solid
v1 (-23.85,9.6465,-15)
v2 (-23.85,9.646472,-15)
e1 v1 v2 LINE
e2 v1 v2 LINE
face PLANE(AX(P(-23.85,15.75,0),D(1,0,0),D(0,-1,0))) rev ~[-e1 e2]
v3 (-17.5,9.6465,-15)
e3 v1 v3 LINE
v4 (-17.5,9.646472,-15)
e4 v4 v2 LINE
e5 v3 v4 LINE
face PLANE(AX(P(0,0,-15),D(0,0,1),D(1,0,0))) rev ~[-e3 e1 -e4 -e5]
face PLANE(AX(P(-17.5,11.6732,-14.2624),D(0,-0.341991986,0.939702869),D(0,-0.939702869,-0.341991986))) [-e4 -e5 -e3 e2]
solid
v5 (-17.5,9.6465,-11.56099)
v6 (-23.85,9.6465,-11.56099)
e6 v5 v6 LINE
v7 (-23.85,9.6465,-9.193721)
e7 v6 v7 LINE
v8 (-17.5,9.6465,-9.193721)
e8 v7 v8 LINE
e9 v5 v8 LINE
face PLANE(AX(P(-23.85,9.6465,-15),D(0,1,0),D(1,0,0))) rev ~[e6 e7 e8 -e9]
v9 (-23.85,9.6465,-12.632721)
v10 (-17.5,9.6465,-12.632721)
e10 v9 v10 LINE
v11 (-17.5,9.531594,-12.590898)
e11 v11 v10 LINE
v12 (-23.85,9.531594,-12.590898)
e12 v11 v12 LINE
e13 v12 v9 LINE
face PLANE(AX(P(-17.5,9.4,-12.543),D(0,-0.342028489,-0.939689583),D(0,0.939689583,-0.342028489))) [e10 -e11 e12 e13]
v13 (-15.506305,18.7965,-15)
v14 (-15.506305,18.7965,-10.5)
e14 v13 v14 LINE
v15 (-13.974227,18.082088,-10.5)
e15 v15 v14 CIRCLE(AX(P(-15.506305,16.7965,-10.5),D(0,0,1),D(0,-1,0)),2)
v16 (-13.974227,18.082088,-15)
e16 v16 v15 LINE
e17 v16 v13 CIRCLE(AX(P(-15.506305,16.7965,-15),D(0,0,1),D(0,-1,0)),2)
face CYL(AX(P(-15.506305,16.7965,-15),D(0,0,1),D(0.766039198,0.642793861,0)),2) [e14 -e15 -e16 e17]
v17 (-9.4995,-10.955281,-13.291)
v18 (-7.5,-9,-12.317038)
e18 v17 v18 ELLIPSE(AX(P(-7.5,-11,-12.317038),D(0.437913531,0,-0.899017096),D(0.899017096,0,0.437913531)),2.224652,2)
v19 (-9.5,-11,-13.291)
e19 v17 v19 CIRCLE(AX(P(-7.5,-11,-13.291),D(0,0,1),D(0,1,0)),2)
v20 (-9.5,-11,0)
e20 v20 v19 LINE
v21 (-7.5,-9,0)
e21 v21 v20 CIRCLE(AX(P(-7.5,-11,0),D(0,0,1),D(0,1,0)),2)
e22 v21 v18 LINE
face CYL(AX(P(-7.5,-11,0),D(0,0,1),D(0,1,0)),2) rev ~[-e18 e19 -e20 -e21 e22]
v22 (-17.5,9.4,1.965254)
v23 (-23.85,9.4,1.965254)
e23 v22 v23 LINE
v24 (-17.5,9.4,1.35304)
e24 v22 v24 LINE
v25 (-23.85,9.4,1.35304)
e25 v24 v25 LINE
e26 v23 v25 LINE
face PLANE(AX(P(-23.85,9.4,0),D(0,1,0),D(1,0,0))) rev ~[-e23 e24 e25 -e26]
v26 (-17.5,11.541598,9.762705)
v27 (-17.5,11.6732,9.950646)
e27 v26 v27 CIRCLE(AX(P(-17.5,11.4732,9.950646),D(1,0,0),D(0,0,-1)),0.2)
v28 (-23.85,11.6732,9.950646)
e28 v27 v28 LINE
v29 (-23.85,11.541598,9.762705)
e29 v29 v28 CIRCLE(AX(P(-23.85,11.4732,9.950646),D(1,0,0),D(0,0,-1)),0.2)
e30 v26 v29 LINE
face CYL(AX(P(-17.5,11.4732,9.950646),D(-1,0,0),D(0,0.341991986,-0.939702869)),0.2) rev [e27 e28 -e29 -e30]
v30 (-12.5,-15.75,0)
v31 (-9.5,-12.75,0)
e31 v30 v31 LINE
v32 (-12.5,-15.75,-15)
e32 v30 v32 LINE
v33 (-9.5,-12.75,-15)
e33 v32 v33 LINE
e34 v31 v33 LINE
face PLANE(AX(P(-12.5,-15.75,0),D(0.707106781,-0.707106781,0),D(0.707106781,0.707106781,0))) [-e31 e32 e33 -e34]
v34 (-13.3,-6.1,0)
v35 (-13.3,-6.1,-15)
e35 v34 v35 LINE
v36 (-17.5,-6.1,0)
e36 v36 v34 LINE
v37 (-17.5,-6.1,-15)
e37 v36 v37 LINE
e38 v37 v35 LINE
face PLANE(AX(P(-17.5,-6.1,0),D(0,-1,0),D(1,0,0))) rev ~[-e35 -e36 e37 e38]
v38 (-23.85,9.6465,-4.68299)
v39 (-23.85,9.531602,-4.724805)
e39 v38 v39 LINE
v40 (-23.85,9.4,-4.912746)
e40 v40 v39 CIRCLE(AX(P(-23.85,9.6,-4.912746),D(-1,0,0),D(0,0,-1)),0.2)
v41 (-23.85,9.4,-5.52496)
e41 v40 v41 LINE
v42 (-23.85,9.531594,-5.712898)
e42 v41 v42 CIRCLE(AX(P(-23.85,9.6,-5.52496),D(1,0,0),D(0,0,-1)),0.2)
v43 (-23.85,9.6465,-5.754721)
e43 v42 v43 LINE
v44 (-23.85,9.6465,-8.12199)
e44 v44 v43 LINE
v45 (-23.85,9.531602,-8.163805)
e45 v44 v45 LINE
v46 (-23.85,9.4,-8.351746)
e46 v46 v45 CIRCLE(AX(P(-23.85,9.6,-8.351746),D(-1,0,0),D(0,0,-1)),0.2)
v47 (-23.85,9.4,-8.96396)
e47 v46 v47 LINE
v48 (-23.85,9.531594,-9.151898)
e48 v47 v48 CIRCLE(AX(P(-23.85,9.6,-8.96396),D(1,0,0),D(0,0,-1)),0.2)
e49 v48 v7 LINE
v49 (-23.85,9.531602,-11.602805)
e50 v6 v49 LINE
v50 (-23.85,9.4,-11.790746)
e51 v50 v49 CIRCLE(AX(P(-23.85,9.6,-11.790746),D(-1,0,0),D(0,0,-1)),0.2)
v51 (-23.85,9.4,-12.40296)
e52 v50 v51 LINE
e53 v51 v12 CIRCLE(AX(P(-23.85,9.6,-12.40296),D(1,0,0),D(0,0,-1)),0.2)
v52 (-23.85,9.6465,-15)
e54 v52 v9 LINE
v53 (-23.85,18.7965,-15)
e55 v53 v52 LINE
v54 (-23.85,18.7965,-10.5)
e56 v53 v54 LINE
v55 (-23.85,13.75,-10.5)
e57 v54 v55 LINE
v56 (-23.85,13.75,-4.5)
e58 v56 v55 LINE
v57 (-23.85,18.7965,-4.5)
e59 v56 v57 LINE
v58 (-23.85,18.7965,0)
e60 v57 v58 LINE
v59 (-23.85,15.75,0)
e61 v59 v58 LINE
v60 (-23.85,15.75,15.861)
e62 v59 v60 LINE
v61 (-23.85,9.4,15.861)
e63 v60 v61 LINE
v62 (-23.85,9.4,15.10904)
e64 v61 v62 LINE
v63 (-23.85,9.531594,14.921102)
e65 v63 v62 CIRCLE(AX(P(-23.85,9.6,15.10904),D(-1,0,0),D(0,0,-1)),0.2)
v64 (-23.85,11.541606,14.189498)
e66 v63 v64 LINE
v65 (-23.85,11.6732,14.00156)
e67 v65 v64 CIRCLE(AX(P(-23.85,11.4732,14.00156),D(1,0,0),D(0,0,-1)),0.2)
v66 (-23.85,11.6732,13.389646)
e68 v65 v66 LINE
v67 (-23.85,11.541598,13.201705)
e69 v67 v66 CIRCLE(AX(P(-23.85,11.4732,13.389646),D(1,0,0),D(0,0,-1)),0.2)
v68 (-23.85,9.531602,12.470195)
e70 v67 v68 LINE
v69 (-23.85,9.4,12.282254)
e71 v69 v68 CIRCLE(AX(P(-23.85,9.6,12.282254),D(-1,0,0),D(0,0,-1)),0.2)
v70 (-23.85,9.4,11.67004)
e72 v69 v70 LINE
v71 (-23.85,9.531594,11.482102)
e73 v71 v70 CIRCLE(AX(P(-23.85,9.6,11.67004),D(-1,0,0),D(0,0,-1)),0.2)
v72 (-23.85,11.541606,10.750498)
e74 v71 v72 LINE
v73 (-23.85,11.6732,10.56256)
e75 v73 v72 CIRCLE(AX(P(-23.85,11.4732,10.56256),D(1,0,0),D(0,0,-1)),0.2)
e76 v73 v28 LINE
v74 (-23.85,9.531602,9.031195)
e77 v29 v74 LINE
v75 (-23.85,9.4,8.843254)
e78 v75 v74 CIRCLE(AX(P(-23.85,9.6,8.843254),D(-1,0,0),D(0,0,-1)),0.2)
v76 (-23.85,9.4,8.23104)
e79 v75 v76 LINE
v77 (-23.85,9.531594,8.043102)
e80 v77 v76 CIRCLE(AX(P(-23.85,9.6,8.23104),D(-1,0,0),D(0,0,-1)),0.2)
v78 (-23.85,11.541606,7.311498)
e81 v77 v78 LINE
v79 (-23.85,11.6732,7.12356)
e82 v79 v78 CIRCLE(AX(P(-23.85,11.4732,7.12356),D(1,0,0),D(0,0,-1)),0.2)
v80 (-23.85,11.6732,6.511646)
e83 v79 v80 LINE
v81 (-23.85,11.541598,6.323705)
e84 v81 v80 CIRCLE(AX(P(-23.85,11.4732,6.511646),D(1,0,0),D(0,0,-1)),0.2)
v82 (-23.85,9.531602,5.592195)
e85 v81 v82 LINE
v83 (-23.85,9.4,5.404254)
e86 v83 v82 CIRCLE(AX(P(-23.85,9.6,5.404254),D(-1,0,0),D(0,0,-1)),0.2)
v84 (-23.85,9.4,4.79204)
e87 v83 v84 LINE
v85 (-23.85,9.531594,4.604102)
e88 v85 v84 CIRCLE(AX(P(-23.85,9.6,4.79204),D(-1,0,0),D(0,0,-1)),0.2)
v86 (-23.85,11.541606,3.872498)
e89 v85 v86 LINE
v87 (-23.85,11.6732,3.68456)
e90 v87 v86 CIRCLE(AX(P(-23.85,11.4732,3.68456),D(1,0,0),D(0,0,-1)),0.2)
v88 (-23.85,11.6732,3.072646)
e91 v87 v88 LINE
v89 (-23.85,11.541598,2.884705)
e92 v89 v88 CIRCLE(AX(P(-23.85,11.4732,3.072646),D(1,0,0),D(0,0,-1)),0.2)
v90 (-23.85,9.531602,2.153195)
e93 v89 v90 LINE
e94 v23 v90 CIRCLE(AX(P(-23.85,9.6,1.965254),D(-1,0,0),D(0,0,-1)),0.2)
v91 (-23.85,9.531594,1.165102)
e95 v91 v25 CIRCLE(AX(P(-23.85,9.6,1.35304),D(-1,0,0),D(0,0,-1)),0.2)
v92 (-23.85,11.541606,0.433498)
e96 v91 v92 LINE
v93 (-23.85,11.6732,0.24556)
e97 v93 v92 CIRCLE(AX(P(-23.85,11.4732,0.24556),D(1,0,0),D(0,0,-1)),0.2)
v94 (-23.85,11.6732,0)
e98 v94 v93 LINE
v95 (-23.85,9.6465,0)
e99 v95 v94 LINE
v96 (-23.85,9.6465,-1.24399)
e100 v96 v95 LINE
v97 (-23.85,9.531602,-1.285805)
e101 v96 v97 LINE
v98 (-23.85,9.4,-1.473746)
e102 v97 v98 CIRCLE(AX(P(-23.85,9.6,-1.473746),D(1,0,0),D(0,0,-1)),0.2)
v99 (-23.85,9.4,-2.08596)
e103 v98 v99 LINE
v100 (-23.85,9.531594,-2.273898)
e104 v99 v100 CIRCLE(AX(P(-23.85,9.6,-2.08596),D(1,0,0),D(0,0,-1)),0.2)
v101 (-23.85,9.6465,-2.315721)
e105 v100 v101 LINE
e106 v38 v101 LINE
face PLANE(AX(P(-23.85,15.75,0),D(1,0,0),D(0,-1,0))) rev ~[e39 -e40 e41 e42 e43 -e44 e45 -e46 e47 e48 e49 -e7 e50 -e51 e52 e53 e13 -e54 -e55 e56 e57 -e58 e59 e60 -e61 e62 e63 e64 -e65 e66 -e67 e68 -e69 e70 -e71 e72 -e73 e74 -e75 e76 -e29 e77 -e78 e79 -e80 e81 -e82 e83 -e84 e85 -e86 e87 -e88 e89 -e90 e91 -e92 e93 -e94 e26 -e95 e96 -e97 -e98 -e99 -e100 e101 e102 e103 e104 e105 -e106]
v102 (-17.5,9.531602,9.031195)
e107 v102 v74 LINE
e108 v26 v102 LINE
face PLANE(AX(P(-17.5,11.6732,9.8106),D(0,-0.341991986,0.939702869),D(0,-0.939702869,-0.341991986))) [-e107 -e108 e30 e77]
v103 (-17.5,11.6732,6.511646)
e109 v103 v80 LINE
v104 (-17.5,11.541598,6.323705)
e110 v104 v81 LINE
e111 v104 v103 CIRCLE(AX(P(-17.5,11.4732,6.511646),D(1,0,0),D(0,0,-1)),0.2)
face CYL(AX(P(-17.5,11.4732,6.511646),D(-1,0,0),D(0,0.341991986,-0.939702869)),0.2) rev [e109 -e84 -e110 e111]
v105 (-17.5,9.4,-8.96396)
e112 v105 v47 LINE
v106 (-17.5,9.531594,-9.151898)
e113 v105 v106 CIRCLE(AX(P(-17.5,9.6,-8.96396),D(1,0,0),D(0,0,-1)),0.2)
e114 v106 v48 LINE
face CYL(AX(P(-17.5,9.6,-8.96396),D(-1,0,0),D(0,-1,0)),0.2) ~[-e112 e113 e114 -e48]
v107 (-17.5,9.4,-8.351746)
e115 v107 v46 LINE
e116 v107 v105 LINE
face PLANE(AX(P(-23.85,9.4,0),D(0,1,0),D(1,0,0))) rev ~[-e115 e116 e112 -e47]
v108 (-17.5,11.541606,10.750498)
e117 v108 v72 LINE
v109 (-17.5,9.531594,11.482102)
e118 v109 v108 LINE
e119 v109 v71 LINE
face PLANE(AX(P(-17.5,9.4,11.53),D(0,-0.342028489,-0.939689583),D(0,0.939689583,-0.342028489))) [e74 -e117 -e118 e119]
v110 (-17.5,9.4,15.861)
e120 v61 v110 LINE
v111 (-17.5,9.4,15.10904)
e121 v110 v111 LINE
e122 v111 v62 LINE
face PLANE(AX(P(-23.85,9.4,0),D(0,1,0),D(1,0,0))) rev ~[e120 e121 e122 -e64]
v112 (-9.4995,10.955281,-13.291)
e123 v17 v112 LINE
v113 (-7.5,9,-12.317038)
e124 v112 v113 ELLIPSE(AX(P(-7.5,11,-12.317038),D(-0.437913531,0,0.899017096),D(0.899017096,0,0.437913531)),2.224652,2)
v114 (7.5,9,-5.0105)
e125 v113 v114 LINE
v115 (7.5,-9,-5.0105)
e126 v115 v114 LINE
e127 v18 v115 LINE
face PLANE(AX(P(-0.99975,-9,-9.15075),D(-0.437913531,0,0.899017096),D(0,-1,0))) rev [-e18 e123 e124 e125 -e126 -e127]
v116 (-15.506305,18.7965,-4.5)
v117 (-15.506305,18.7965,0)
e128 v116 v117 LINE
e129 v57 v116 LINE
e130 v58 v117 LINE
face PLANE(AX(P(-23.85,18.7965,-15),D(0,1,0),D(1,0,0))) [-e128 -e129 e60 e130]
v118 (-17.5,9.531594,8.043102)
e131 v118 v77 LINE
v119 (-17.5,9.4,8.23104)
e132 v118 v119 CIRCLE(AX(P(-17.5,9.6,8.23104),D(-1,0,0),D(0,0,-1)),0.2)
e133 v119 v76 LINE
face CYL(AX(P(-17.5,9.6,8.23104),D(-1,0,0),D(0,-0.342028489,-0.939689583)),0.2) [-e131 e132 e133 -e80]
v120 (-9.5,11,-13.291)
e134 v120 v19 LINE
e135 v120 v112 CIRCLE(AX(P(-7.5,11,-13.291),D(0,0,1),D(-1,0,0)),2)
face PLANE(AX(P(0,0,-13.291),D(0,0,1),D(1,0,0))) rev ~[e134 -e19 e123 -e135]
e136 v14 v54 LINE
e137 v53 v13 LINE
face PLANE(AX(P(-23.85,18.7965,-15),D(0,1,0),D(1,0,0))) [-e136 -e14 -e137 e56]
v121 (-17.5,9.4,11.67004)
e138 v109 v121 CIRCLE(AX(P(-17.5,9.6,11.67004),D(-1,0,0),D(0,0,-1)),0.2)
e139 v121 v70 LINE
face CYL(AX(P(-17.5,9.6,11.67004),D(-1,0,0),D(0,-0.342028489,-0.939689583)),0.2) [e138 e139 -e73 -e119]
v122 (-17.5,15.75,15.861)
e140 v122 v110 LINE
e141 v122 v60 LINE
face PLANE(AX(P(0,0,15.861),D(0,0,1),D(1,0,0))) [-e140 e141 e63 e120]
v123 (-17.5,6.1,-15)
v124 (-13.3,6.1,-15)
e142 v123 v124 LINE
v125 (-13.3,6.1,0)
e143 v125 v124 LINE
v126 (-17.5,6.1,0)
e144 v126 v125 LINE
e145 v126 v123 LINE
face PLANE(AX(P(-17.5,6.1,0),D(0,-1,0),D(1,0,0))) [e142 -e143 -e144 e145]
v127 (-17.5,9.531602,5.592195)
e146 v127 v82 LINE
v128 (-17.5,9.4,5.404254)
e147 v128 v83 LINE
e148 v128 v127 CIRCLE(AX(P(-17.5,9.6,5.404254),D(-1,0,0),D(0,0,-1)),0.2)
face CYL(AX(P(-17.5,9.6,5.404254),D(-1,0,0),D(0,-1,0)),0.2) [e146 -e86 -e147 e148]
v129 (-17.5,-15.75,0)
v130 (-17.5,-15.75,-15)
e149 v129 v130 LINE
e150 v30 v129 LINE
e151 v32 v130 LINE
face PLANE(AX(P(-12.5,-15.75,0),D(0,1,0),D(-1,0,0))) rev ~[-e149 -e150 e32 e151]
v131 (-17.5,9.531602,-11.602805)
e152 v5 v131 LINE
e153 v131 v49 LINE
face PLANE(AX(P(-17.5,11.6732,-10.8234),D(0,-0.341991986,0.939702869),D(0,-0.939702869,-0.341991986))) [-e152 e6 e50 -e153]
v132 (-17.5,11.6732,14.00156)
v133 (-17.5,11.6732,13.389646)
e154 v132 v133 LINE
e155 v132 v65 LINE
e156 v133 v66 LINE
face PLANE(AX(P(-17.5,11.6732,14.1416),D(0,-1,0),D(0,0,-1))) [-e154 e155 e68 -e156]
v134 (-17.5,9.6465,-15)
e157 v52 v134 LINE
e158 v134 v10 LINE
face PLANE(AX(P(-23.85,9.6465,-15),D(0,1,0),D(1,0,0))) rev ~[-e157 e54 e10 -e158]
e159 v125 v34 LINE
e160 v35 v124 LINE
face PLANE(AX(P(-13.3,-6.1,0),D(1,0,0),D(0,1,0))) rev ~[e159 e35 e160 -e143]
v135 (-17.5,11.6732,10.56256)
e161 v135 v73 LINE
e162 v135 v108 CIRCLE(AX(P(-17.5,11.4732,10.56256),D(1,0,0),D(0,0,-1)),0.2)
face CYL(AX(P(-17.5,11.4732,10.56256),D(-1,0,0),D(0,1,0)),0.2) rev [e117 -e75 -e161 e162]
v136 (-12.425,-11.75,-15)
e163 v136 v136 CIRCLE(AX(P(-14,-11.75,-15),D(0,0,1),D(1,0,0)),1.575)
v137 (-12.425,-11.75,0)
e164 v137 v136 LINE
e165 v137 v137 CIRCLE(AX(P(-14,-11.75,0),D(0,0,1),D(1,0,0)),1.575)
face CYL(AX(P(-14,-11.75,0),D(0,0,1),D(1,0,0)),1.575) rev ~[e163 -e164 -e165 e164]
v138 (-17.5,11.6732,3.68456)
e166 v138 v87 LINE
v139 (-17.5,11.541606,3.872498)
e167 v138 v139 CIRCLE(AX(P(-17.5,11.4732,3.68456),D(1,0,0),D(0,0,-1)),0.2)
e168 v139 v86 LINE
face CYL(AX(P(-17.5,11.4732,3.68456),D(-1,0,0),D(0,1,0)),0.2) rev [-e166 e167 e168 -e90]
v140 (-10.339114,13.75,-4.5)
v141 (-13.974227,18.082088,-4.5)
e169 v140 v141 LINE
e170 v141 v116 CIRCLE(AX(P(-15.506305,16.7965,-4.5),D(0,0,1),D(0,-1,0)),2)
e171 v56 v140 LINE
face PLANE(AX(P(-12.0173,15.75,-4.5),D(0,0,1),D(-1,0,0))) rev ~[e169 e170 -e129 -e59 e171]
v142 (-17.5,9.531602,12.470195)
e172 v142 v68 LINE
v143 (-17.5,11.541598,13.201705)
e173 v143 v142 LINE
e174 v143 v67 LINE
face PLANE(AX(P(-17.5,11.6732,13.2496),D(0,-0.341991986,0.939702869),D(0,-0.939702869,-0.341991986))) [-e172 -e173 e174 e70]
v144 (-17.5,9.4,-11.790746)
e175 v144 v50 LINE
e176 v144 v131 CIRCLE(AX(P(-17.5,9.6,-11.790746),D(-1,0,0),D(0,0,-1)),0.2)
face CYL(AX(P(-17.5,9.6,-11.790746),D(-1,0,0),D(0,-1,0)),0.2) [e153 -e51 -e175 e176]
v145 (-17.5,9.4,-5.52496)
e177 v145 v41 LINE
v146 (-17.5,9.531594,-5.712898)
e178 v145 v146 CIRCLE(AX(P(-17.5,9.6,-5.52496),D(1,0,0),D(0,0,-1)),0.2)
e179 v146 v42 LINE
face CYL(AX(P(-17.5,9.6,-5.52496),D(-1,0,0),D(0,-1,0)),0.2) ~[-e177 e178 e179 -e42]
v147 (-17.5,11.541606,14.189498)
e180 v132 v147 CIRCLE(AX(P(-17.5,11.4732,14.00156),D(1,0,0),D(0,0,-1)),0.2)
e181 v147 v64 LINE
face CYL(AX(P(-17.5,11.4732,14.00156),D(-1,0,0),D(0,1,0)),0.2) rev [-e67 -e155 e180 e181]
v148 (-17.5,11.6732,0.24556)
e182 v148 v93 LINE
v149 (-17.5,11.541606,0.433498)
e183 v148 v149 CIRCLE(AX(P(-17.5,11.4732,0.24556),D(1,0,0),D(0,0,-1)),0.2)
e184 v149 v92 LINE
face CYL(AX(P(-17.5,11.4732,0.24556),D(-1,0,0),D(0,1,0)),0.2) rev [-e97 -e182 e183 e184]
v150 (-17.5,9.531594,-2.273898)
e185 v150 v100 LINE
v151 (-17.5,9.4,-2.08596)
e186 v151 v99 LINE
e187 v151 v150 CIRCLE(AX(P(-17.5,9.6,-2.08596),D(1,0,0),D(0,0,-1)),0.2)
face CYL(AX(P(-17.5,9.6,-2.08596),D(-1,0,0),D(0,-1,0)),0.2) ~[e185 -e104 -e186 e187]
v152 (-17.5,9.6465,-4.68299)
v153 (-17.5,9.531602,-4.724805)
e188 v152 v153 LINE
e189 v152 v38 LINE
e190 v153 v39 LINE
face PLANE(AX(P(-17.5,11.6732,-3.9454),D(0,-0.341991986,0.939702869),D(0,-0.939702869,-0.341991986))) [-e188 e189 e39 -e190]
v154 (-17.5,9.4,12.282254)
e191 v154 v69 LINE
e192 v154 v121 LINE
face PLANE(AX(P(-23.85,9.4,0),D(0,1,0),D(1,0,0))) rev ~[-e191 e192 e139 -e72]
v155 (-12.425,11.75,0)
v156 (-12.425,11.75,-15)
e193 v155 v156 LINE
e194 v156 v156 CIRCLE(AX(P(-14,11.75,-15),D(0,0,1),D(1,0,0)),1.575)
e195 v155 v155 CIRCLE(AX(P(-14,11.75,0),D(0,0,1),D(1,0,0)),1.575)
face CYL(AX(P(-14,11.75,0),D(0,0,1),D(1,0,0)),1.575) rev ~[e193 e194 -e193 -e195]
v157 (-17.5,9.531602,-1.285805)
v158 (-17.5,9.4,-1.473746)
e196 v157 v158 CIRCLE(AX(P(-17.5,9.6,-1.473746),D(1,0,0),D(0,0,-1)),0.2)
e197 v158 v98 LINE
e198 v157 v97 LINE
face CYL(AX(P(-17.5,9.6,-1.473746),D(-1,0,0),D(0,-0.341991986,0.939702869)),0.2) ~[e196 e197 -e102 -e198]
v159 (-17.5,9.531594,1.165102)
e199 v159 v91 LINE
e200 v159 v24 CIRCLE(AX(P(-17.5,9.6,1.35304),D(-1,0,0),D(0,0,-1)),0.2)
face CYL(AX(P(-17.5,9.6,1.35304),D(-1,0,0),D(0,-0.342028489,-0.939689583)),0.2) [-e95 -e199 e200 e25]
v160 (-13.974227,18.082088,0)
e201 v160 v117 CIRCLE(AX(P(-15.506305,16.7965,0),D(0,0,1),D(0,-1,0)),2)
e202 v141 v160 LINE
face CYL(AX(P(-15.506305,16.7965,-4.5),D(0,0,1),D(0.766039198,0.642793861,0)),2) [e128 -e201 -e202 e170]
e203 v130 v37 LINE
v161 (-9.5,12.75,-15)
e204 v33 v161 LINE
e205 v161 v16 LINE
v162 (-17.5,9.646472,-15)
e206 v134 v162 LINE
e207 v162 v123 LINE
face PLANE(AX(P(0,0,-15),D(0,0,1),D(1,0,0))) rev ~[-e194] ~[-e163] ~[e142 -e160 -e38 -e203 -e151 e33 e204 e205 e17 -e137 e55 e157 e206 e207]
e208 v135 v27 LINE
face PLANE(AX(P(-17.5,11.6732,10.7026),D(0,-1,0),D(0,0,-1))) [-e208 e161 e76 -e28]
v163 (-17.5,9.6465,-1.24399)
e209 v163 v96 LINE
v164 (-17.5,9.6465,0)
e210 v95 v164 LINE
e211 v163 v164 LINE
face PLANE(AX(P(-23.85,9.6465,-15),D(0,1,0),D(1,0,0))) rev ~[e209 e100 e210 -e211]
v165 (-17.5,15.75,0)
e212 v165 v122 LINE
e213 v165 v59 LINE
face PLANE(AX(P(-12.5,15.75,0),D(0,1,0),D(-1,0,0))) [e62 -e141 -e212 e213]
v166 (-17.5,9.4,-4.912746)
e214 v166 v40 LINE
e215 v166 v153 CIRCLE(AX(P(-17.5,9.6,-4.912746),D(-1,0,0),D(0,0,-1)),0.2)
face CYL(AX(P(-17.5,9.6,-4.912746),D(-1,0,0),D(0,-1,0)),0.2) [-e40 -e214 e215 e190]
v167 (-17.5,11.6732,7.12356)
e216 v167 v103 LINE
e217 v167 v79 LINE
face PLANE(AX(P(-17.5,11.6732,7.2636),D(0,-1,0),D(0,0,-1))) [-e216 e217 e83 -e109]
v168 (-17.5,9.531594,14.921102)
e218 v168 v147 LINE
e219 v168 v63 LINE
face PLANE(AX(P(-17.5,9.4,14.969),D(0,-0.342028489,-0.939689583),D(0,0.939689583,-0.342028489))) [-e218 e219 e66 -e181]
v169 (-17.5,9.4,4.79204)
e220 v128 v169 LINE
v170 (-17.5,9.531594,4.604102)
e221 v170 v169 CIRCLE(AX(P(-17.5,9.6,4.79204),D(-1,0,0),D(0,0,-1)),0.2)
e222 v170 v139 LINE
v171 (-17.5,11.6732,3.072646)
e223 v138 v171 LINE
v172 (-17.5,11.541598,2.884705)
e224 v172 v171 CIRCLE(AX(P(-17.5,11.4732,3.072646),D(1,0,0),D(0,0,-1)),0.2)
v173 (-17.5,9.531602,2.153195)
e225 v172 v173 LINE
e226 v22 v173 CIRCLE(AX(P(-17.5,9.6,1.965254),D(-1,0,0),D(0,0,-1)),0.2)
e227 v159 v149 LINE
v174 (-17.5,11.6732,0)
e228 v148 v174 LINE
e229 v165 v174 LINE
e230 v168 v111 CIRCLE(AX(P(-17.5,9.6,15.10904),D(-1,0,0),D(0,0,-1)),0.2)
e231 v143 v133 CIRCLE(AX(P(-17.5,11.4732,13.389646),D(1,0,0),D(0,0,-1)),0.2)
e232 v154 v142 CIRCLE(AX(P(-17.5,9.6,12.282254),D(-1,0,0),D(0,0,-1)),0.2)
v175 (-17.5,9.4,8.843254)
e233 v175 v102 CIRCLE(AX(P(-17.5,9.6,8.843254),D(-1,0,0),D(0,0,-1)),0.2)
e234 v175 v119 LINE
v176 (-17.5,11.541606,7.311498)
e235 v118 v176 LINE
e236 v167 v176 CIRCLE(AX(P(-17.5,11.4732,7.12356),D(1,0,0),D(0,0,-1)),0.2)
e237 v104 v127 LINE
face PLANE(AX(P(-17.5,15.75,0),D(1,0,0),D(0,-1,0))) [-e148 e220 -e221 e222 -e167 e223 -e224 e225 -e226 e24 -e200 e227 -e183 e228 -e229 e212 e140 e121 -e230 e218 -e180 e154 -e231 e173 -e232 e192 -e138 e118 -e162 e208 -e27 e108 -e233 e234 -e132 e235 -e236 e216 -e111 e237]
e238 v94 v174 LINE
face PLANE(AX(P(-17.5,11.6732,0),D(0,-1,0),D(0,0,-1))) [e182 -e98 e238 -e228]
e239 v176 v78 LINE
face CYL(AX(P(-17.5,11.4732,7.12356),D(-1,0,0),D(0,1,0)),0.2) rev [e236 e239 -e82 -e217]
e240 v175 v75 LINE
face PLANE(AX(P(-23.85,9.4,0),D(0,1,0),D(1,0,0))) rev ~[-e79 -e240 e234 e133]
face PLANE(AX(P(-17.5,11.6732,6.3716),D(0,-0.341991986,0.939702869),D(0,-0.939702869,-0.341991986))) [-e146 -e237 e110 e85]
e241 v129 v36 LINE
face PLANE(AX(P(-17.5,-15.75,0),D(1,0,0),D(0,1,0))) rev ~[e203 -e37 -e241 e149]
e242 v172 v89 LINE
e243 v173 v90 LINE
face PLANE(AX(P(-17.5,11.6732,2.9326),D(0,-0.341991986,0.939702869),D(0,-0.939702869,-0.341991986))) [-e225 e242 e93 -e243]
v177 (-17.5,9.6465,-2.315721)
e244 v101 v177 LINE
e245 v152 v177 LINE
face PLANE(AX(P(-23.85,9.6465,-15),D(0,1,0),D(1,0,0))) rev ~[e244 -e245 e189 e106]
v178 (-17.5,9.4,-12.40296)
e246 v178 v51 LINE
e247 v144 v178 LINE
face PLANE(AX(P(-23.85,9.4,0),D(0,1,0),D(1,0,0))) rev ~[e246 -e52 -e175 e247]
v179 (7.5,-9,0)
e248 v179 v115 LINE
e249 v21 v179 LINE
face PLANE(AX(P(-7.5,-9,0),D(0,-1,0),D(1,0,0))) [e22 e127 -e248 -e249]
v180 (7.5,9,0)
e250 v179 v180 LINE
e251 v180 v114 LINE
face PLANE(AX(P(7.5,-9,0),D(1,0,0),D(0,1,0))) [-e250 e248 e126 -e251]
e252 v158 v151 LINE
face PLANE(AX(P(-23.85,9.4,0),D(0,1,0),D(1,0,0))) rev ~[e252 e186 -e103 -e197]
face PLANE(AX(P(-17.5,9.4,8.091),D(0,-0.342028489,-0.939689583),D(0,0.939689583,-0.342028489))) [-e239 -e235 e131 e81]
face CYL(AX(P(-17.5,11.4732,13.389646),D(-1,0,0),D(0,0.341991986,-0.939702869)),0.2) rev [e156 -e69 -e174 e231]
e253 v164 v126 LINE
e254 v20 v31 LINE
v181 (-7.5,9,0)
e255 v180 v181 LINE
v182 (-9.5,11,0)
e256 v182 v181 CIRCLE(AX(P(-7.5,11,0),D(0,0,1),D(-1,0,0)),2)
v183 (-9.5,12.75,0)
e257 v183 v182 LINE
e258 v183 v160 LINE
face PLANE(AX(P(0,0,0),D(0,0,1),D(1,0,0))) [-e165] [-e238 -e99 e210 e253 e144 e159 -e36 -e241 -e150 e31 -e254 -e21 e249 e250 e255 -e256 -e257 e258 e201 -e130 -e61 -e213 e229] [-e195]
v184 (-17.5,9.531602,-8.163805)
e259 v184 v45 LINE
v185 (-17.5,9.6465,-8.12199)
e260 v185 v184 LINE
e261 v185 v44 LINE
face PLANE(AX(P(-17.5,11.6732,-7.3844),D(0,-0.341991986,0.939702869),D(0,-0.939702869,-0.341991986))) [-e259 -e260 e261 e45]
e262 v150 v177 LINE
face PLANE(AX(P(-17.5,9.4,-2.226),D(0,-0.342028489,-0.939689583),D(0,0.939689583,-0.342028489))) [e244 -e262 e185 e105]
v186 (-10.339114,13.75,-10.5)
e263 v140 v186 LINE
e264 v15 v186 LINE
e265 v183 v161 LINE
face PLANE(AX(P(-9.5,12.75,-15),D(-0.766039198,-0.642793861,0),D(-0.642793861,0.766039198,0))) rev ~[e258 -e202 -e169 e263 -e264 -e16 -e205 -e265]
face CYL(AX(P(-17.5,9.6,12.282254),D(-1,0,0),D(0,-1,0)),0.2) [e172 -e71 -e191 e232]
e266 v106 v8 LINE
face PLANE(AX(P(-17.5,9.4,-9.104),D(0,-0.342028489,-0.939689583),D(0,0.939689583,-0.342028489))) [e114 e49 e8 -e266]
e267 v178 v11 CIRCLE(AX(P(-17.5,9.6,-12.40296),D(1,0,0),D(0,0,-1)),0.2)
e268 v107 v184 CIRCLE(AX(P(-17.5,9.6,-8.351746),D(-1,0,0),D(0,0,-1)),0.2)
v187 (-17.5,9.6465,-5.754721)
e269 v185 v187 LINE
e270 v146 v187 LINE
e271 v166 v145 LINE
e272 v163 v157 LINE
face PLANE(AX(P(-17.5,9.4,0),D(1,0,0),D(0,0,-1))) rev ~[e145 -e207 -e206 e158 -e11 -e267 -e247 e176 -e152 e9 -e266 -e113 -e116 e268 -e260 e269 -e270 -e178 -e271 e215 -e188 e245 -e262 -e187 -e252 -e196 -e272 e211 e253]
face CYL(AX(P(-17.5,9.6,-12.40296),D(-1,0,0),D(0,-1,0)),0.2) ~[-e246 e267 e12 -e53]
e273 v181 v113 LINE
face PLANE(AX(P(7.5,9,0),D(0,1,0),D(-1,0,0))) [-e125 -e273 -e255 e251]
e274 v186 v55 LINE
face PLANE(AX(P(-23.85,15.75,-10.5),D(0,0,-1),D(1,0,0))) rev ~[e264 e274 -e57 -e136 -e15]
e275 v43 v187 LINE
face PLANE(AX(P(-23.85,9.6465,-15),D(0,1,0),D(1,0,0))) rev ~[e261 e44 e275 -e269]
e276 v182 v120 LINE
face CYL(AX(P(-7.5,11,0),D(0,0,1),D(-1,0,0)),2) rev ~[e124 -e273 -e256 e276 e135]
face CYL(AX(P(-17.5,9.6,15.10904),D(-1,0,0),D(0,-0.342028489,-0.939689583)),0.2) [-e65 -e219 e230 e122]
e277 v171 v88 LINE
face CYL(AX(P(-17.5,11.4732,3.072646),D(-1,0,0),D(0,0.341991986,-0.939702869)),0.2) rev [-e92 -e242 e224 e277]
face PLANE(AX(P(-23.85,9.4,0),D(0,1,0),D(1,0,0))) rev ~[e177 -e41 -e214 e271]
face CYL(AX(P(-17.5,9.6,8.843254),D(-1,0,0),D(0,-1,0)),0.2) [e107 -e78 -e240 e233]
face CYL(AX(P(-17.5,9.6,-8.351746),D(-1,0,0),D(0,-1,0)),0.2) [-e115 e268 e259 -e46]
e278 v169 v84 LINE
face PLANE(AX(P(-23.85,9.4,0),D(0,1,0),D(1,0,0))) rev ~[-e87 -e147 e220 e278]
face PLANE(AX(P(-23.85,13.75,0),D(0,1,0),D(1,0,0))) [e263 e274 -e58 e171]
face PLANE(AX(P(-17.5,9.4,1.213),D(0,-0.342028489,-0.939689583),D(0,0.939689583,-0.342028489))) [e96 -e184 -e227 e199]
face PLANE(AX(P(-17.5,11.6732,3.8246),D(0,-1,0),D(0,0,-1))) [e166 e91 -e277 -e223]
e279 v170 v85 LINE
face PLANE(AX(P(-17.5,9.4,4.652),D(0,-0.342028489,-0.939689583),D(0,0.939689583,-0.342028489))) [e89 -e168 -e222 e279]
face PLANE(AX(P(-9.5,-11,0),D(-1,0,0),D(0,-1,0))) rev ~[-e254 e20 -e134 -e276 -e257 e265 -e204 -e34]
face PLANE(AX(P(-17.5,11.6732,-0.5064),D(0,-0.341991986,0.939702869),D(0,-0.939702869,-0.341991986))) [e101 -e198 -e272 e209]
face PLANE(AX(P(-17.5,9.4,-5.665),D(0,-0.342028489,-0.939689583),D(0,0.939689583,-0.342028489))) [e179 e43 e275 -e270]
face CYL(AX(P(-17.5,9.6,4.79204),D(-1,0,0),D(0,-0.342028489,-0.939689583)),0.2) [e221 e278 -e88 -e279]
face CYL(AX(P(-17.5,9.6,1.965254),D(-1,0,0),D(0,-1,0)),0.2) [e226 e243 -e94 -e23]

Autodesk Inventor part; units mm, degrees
ref_plane "YZ Plane" through (0, 0, 0) normal (1, 0, 0) x (0, 1, 0)
ref_plane "XZ Plane" through (0, 0, 0) normal (0, 1, 0) x (-1, 0, 0)
sketch "Sketch1" plane through (0, 0, 0) normal (0, 0, 1) x (1, 0, 0)
  line L0 (-7.5, -9) -> (7.5, -9)
  line L1 (7.5, -9) -> (7.5, 9)
  line L2 (7.5, 9) -> (-7.5, 9)
  line L3 (-9.5, -11) -> (-9.5, -12.75)
  line L4 (-12.5, -15.75) -> (-17.5, -15.75)
  arc A0 (-7.5, -9) -> (-9.5, -11) centre (-7.5, -11) ccw
  line L5 (-12.5, -15.75) -> (-9.5, -12.75)
  line L6 (-17.5, -15.75) -> (-17.5, -6.1)
  line L7 (-17.5, -6.1) -> (-13.3, -6.1)
  line L8 (-13.3, -6.1) -> (-13.3, 0)
  line L9 (2.7531, 0) -> (-2.7531, 0) construction
  line L10 (-9.5, 11) -> (-9.5, 12.75)
  line L11 (-12.5, 15.75) -> (-17.5, 15.75)
  arc A1 (-9.5, 11) -> (-7.5, 9) centre (-7.5, 11) ccw
  line L12 (-12.5, 15.75) -> (-9.5, 12.75)
  line L13 (-17.5, 15.75) -> (-17.5, 6.1)
  line L14 (-17.5, 6.1) -> (-13.3, 6.1)
  line L15 (-13.3, 6.1) -> (-13.3, 0)
  circle A2 centre (-14, -11.75) radius 1.575
  circle A3 centre (-14, 11.75) radius 1.575
  line L16 (-17.5, 15.75) -> (-23.85, 15.75)
  line L17 (-23.85, 15.75) -> (-23.85, 9.4)
  line L18 (-23.85, 9.4) -> (-17.5, 9.4)
  line L19 (-9.5, 11.875) -> (-9.5, -11.875)
  point P0 (0, 0)
  point P1 (0, 0)
  point P2 (7.5, 0)
  point P3 (0, -9)
  point P4 (-9.5, -15.75)
  point P5 (0, 0)
  point P6 (-9.5, 15.75)
  dimension "d1" = 18
  dimension "d3" = 8
  dimension "d4" = 2
  dimension "d5" = 3
  dimension "d6" = 3
  dimension "d7" = 9.65
  dimension "d8" = 4.2
  dimension "d9" = 6.1
  dimension "d10" = 7.5
  dimension "d11" = 3.875
  dimension "d12" = 3.15
  dimension "d13" = 3.5
  dimension "d14" = 4
  dimension "d15" = 6.35
  dimension "d16" = 6.35
extrude "Extrusion1" add sketch "Sketch1" against normal blind 15 contours L3 L5 L4 L6 L7 L8 L15 L14 L13 L11 L12 L10 L19
extrude "Extrusion2" add sketch "Sketch1" against normal blind 13.291 contours A0 L19 A1 L2 L1 L0
chamfer "Chamfer1" distance 17 distance2 8.281 1 edges at (7.5, 0, -13.291) measured on face at (-2.5, 3, -13.291)
extrude "Extrusion3" add sketch "Sketch1" along normal blind 15.861 and the other way blind 15 contours L13 L18 L17 L16
ref_plane "Work Plane1" through (-17.5, 9.4, 0) normal (1, 0, 0) x (0, 0, -1)
sketch "Sketch2" plane through (-17.5, 9.4, 0) normal (1, 0, 0) x (0, 0, -1)
  line L0 (0, 6.35) -> (0, 0) projected
  line L1 (15, 0) -> (0, 0) projected
  line L2 (15, 6.35) -> (15, 0) projected
  line L3 (0, 6.35) -> (15, 6.35) projected
  line L4 (-15.861, 6.35) -> (0, 6.35) projected
  line L5 (-15.861, 0) -> (-15.861, 6.35) projected
  line L6 (0, 0) -> (-15.861, 0) projected
  line L7 (0, -3.3) -> (0, 0) projected
  line L8 (15, -3.3) -> (0, -3.3) projected
  line L9 (15, 0) -> (15, -3.3) projected
  line L10 (0, -15.5) -> (15, -15.5) projected
  line L11 (15, -15.5) -> (15, -25.15) projected
  line L12 (15, -25.15) -> (0, -25.15) projected
  line L13 (0, -25.15) -> (0, -15.5) projected
  line L14 (-15.861, 0) -> (-14.969, 0)
  line L15 (-14.969, 0) -> (-14.1416, 2.2732)
  line L16 (-14.1416, 2.2732) -> (-13.2496, 2.2732)
  line L17 (-13.2496, 2.2732) -> (-12.4223, 0)
  line L18 (-15.861, 0) -> (15, 0) projected
  line L19 (-9.8106, 2.2732) -> (-8.9833, 0)
  line L20 (-10.7026, 2.2732) -> (-9.8106, 2.2732)
  line L21 (-11.53, 0) -> (-10.7026, 2.2732)
  line L22 (-12.422, 0) -> (-11.53, 0)
  line L23 (-6.3716, 2.2732) -> (-5.5443, 0)
  line L24 (-7.2636, 2.2732) -> (-6.3716, 2.2732)
  line L25 (-8.091, 0) -> (-7.2636, 2.2732)
  line L26 (-8.983, 0) -> (-8.091, 0)
  line L27 (-2.9326, 2.2732) -> (-2.1053, 0)
  line L28 (-3.8246, 2.2732) -> (-2.9326, 2.2732)
  line L29 (-4.652, 0) -> (-3.8246, 2.2732)
  line L30 (-5.544, 0) -> (-4.652, 0)
  line L31 (0.5064, 2.2732) -> (1.3337, 0)
  line L32 (-0.3856, 2.2732) -> (0.5064, 2.2732)
  line L33 (-1.213, 0) -> (-0.3856, 2.2732)
  line L34 (-2.105, 0) -> (-1.213, 0)
  line L35 (3.9454, 2.2732) -> (4.7727, 0)
  line L36 (3.0534, 2.2732) -> (3.9454, 2.2732)
  line L37 (2.226, 0) -> (3.0534, 2.2732)
  line L38 (1.334, 0) -> (2.226, 0)
  line L39 (7.3844, 2.2732) -> (8.2117, 0)
  line L40 (6.4924, 2.2732) -> (7.3844, 2.2732)
  line L41 (5.665, 0) -> (6.4924, 2.2732)
  line L42 (4.773, 0) -> (5.665, 0)
  line L43 (10.8234, 2.2732) -> (11.6507, 0)
  line L44 (9.9314, 2.2732) -> (10.8234, 2.2732)
  line L45 (9.104, 0) -> (9.9314, 2.2732)
  line L46 (8.212, 0) -> (9.104, 0)
  line L47 (14.2624, 2.2732) -> (15.0897, 0)
  line L48 (13.3704, 2.2732) -> (14.2624, 2.2732)
  line L49 (12.543, 0) -> (13.3704, 2.2732)
  line L50 (11.651, 0) -> (12.543, 0)
  point P0 (0, -9.4)
  point P1 (15, 0.2465)
  point P2 (11.6507, 0)
  point P3 (8.2117, 0)
  point P4 (4.7727, 0)
  point P5 (1.3337, 0)
  point P6 (-2.1053, 0)
  point P7 (-5.5443, 0)
  point P8 (-8.9833, 0)
  point P9 (-12.4223, 0)
  dimension "d29" = 0.892
  dimension "d30" = 110
  dimension "d31" = 110
  dimension "d32" = 0.892
  dimension "d33" = 2.2732
  dimension "d36" = 3.439
extrude "Extrusion4" cut sketch "Sketch2" against normal up to surface (6.35 mm away) contours L32 L31 L1 L0 | L0 L6 L33 L32 | L2 L1 L49 L48 L47 | L15 L16 L17 L6 | L37 L36 L35 L1 | L6 L29 L28 L27 | L1 L45 L44 L43 | L21 L20 L19 L6 | L41 L40 L39 L1 | L6 L25 L24 L23
fillet "Fillet1" radius 0.2 35 edges at (-20.675, 11.6732, 14.1416) (-20.675, 11.6732, 13.2496) (-20.675, 9.4, 14.969) (-20.675, 9.4, 12.4223) (-20.675, 9.4, 11.53) (-20.675, 11.6732, 10.7026) (-20.675, 11.6732, 9.8106) (-20.675, 9.4, 8.9833) (-20.675, 9.4, 8.091) (-20.675, 11.6732, 7.2636) (-20.675, 11.6732, 6.3716) (-20.675, 9.4, 5.5443) (-20.675, 9.4, 4.652) (-20.675, 11.6732, 3.8246) (-20.675, 11.6732, 2.9326) (-20.675, 9.4, 2.1053) (-20.675, 9.4, 1.213) (-20.675, 11.6732, 0.3856) (-20.675, 11.6732, -0.5064) (-20.675, 9.4, -1.3337) (-20.675, 9.4, -2.226) (-20.675, 11.6732, -3.0534) (-20.675, 11.6732, -3.9454) (-20.675, 9.4, -4.7727) (-20.675, 9.4, -5.665) (-20.675, 11.6732, -6.4924) (-20.675, 11.6732, -7.3844) (-20.675, 9.4, -8.2117) (-20.675, 9.4, -9.104) (-20.675, 11.6732, -9.9314) (-20.675, 11.6732, -10.8234) (-20.675, 9.4, -11.6507) (-20.675, 9.4, -12.543) (-20.675, 11.6732, -13.3704) (-20.675, 11.6732, -14.2624)
sketch "Sketch3" plane through (0, 0, -15) normal (0, 0, -1) x (-1, 0, 0)
  line L0 (23.85, 9.6465) -> (17.5, 9.6465) projected
  line L1 (17.5, 9.6465) -> (17.5, 6.1) projected
  line L2 (17.5, 6.1) -> (13.3, 6.1) projected
  line L3 (13.3, 6.1) -> (13.3, -6.1) projected
  line L4 (13.3, -6.1) -> (17.5, -6.1) projected
  line L5 (17.5, -6.1) -> (17.5, -15.75) projected
  line L6 (17.5, -15.75) -> (12.5, -15.75) projected
  line L7 (12.5, -15.75) -> (9.5, -12.75) projected
  line L8 (9.5, -12.75) -> (9.5, 12.75) projected
  line L9 (9.5, 12.75) -> (12.5, 15.75) projected
  line L10 (12.5, 15.75) -> (23.85, 15.75) projected
  line L11 (23.85, 15.75) -> (23.85, 9.6465) projected
  circle A0 centre (14, 11.75) radius 1.575 projected
  circle A1 centre (14, -11.75) radius 1.575 projected
  line L12 (23.85, 9.6465) -> (23.85, 18.7965)
  line L13 (9.5, 12.75) -> (14.5737, 18.7965)
  line L14 (23.85, 18.7965) -> (14.5737, 18.7965)
  point P0 (0, 0)
  dimension "d44" = 9.15
  dimension "d71" = 140
extrude "Extrusion5" add sketch "Sketch3" against normal up to surface (15 mm away) contours L0 L1 L2 L3 L4 L5 L6 L7 L8 L9 L10 L11 | L10 L9 L13 L14 L12 | A0 | A1
sketch "Sketch5" plane through (-23.85, 15.75, 0) normal (0, 1, 0) x (1, 0, 0)
  line L0 (0, 0) -> (6.35, 0) projected
  line L1 (6.35, 0) -> (6.35, -15.861) projected
  line L2 (6.35, -15.861) -> (0, -15.861) projected
  line L3 (0, -15.861) -> (0, 0) projected
  line L4 (0, 0) -> (0, 15) projected
  line L5 (0, 15) -> (11.8327, 15) projected
  line L6 (11.8327, 0) -> (6.35, 0) projected
  line L7 (0, 15) -> (0, 10.5)
  line L8 (0, 10.5) -> (0, 4.5)
  line L9 (0, 10.5) -> (14.35, 10.5)
  line L10 (14.35, 13.291) -> (14.35, 0) projected
  line L11 (14.35, 10.5) -> (14.35, 4.5)
  line L12 (14.35, 4.5) -> (0, 4.5)
  line L13 (0, 10.5) -> (0, 4.5)
  line L14 (11.8327, 15) -> (11.8327, 0) projected
  point P0 (23.85, 0)
  dimension "d47" = 4.5
  dimension "d49" = 6
extrude "Extrusion6" cut sketch "Sketch5" along normal blind 10 and the other way blind 2 contours L4 L9 L14 L12 | L14 L9 L10 L12
fillet "Fillet2" radius 2 2 edges at (-14.5737, 18.7965, -2.25) (-14.5737, 18.7965, -12.75)
extrude "Extrusion7" cut sketch "Sketch1" against normal up to surface (15 mm away) contours A2 | A3
equation "\"d6\" = d5"
properties part number "GA_2"
